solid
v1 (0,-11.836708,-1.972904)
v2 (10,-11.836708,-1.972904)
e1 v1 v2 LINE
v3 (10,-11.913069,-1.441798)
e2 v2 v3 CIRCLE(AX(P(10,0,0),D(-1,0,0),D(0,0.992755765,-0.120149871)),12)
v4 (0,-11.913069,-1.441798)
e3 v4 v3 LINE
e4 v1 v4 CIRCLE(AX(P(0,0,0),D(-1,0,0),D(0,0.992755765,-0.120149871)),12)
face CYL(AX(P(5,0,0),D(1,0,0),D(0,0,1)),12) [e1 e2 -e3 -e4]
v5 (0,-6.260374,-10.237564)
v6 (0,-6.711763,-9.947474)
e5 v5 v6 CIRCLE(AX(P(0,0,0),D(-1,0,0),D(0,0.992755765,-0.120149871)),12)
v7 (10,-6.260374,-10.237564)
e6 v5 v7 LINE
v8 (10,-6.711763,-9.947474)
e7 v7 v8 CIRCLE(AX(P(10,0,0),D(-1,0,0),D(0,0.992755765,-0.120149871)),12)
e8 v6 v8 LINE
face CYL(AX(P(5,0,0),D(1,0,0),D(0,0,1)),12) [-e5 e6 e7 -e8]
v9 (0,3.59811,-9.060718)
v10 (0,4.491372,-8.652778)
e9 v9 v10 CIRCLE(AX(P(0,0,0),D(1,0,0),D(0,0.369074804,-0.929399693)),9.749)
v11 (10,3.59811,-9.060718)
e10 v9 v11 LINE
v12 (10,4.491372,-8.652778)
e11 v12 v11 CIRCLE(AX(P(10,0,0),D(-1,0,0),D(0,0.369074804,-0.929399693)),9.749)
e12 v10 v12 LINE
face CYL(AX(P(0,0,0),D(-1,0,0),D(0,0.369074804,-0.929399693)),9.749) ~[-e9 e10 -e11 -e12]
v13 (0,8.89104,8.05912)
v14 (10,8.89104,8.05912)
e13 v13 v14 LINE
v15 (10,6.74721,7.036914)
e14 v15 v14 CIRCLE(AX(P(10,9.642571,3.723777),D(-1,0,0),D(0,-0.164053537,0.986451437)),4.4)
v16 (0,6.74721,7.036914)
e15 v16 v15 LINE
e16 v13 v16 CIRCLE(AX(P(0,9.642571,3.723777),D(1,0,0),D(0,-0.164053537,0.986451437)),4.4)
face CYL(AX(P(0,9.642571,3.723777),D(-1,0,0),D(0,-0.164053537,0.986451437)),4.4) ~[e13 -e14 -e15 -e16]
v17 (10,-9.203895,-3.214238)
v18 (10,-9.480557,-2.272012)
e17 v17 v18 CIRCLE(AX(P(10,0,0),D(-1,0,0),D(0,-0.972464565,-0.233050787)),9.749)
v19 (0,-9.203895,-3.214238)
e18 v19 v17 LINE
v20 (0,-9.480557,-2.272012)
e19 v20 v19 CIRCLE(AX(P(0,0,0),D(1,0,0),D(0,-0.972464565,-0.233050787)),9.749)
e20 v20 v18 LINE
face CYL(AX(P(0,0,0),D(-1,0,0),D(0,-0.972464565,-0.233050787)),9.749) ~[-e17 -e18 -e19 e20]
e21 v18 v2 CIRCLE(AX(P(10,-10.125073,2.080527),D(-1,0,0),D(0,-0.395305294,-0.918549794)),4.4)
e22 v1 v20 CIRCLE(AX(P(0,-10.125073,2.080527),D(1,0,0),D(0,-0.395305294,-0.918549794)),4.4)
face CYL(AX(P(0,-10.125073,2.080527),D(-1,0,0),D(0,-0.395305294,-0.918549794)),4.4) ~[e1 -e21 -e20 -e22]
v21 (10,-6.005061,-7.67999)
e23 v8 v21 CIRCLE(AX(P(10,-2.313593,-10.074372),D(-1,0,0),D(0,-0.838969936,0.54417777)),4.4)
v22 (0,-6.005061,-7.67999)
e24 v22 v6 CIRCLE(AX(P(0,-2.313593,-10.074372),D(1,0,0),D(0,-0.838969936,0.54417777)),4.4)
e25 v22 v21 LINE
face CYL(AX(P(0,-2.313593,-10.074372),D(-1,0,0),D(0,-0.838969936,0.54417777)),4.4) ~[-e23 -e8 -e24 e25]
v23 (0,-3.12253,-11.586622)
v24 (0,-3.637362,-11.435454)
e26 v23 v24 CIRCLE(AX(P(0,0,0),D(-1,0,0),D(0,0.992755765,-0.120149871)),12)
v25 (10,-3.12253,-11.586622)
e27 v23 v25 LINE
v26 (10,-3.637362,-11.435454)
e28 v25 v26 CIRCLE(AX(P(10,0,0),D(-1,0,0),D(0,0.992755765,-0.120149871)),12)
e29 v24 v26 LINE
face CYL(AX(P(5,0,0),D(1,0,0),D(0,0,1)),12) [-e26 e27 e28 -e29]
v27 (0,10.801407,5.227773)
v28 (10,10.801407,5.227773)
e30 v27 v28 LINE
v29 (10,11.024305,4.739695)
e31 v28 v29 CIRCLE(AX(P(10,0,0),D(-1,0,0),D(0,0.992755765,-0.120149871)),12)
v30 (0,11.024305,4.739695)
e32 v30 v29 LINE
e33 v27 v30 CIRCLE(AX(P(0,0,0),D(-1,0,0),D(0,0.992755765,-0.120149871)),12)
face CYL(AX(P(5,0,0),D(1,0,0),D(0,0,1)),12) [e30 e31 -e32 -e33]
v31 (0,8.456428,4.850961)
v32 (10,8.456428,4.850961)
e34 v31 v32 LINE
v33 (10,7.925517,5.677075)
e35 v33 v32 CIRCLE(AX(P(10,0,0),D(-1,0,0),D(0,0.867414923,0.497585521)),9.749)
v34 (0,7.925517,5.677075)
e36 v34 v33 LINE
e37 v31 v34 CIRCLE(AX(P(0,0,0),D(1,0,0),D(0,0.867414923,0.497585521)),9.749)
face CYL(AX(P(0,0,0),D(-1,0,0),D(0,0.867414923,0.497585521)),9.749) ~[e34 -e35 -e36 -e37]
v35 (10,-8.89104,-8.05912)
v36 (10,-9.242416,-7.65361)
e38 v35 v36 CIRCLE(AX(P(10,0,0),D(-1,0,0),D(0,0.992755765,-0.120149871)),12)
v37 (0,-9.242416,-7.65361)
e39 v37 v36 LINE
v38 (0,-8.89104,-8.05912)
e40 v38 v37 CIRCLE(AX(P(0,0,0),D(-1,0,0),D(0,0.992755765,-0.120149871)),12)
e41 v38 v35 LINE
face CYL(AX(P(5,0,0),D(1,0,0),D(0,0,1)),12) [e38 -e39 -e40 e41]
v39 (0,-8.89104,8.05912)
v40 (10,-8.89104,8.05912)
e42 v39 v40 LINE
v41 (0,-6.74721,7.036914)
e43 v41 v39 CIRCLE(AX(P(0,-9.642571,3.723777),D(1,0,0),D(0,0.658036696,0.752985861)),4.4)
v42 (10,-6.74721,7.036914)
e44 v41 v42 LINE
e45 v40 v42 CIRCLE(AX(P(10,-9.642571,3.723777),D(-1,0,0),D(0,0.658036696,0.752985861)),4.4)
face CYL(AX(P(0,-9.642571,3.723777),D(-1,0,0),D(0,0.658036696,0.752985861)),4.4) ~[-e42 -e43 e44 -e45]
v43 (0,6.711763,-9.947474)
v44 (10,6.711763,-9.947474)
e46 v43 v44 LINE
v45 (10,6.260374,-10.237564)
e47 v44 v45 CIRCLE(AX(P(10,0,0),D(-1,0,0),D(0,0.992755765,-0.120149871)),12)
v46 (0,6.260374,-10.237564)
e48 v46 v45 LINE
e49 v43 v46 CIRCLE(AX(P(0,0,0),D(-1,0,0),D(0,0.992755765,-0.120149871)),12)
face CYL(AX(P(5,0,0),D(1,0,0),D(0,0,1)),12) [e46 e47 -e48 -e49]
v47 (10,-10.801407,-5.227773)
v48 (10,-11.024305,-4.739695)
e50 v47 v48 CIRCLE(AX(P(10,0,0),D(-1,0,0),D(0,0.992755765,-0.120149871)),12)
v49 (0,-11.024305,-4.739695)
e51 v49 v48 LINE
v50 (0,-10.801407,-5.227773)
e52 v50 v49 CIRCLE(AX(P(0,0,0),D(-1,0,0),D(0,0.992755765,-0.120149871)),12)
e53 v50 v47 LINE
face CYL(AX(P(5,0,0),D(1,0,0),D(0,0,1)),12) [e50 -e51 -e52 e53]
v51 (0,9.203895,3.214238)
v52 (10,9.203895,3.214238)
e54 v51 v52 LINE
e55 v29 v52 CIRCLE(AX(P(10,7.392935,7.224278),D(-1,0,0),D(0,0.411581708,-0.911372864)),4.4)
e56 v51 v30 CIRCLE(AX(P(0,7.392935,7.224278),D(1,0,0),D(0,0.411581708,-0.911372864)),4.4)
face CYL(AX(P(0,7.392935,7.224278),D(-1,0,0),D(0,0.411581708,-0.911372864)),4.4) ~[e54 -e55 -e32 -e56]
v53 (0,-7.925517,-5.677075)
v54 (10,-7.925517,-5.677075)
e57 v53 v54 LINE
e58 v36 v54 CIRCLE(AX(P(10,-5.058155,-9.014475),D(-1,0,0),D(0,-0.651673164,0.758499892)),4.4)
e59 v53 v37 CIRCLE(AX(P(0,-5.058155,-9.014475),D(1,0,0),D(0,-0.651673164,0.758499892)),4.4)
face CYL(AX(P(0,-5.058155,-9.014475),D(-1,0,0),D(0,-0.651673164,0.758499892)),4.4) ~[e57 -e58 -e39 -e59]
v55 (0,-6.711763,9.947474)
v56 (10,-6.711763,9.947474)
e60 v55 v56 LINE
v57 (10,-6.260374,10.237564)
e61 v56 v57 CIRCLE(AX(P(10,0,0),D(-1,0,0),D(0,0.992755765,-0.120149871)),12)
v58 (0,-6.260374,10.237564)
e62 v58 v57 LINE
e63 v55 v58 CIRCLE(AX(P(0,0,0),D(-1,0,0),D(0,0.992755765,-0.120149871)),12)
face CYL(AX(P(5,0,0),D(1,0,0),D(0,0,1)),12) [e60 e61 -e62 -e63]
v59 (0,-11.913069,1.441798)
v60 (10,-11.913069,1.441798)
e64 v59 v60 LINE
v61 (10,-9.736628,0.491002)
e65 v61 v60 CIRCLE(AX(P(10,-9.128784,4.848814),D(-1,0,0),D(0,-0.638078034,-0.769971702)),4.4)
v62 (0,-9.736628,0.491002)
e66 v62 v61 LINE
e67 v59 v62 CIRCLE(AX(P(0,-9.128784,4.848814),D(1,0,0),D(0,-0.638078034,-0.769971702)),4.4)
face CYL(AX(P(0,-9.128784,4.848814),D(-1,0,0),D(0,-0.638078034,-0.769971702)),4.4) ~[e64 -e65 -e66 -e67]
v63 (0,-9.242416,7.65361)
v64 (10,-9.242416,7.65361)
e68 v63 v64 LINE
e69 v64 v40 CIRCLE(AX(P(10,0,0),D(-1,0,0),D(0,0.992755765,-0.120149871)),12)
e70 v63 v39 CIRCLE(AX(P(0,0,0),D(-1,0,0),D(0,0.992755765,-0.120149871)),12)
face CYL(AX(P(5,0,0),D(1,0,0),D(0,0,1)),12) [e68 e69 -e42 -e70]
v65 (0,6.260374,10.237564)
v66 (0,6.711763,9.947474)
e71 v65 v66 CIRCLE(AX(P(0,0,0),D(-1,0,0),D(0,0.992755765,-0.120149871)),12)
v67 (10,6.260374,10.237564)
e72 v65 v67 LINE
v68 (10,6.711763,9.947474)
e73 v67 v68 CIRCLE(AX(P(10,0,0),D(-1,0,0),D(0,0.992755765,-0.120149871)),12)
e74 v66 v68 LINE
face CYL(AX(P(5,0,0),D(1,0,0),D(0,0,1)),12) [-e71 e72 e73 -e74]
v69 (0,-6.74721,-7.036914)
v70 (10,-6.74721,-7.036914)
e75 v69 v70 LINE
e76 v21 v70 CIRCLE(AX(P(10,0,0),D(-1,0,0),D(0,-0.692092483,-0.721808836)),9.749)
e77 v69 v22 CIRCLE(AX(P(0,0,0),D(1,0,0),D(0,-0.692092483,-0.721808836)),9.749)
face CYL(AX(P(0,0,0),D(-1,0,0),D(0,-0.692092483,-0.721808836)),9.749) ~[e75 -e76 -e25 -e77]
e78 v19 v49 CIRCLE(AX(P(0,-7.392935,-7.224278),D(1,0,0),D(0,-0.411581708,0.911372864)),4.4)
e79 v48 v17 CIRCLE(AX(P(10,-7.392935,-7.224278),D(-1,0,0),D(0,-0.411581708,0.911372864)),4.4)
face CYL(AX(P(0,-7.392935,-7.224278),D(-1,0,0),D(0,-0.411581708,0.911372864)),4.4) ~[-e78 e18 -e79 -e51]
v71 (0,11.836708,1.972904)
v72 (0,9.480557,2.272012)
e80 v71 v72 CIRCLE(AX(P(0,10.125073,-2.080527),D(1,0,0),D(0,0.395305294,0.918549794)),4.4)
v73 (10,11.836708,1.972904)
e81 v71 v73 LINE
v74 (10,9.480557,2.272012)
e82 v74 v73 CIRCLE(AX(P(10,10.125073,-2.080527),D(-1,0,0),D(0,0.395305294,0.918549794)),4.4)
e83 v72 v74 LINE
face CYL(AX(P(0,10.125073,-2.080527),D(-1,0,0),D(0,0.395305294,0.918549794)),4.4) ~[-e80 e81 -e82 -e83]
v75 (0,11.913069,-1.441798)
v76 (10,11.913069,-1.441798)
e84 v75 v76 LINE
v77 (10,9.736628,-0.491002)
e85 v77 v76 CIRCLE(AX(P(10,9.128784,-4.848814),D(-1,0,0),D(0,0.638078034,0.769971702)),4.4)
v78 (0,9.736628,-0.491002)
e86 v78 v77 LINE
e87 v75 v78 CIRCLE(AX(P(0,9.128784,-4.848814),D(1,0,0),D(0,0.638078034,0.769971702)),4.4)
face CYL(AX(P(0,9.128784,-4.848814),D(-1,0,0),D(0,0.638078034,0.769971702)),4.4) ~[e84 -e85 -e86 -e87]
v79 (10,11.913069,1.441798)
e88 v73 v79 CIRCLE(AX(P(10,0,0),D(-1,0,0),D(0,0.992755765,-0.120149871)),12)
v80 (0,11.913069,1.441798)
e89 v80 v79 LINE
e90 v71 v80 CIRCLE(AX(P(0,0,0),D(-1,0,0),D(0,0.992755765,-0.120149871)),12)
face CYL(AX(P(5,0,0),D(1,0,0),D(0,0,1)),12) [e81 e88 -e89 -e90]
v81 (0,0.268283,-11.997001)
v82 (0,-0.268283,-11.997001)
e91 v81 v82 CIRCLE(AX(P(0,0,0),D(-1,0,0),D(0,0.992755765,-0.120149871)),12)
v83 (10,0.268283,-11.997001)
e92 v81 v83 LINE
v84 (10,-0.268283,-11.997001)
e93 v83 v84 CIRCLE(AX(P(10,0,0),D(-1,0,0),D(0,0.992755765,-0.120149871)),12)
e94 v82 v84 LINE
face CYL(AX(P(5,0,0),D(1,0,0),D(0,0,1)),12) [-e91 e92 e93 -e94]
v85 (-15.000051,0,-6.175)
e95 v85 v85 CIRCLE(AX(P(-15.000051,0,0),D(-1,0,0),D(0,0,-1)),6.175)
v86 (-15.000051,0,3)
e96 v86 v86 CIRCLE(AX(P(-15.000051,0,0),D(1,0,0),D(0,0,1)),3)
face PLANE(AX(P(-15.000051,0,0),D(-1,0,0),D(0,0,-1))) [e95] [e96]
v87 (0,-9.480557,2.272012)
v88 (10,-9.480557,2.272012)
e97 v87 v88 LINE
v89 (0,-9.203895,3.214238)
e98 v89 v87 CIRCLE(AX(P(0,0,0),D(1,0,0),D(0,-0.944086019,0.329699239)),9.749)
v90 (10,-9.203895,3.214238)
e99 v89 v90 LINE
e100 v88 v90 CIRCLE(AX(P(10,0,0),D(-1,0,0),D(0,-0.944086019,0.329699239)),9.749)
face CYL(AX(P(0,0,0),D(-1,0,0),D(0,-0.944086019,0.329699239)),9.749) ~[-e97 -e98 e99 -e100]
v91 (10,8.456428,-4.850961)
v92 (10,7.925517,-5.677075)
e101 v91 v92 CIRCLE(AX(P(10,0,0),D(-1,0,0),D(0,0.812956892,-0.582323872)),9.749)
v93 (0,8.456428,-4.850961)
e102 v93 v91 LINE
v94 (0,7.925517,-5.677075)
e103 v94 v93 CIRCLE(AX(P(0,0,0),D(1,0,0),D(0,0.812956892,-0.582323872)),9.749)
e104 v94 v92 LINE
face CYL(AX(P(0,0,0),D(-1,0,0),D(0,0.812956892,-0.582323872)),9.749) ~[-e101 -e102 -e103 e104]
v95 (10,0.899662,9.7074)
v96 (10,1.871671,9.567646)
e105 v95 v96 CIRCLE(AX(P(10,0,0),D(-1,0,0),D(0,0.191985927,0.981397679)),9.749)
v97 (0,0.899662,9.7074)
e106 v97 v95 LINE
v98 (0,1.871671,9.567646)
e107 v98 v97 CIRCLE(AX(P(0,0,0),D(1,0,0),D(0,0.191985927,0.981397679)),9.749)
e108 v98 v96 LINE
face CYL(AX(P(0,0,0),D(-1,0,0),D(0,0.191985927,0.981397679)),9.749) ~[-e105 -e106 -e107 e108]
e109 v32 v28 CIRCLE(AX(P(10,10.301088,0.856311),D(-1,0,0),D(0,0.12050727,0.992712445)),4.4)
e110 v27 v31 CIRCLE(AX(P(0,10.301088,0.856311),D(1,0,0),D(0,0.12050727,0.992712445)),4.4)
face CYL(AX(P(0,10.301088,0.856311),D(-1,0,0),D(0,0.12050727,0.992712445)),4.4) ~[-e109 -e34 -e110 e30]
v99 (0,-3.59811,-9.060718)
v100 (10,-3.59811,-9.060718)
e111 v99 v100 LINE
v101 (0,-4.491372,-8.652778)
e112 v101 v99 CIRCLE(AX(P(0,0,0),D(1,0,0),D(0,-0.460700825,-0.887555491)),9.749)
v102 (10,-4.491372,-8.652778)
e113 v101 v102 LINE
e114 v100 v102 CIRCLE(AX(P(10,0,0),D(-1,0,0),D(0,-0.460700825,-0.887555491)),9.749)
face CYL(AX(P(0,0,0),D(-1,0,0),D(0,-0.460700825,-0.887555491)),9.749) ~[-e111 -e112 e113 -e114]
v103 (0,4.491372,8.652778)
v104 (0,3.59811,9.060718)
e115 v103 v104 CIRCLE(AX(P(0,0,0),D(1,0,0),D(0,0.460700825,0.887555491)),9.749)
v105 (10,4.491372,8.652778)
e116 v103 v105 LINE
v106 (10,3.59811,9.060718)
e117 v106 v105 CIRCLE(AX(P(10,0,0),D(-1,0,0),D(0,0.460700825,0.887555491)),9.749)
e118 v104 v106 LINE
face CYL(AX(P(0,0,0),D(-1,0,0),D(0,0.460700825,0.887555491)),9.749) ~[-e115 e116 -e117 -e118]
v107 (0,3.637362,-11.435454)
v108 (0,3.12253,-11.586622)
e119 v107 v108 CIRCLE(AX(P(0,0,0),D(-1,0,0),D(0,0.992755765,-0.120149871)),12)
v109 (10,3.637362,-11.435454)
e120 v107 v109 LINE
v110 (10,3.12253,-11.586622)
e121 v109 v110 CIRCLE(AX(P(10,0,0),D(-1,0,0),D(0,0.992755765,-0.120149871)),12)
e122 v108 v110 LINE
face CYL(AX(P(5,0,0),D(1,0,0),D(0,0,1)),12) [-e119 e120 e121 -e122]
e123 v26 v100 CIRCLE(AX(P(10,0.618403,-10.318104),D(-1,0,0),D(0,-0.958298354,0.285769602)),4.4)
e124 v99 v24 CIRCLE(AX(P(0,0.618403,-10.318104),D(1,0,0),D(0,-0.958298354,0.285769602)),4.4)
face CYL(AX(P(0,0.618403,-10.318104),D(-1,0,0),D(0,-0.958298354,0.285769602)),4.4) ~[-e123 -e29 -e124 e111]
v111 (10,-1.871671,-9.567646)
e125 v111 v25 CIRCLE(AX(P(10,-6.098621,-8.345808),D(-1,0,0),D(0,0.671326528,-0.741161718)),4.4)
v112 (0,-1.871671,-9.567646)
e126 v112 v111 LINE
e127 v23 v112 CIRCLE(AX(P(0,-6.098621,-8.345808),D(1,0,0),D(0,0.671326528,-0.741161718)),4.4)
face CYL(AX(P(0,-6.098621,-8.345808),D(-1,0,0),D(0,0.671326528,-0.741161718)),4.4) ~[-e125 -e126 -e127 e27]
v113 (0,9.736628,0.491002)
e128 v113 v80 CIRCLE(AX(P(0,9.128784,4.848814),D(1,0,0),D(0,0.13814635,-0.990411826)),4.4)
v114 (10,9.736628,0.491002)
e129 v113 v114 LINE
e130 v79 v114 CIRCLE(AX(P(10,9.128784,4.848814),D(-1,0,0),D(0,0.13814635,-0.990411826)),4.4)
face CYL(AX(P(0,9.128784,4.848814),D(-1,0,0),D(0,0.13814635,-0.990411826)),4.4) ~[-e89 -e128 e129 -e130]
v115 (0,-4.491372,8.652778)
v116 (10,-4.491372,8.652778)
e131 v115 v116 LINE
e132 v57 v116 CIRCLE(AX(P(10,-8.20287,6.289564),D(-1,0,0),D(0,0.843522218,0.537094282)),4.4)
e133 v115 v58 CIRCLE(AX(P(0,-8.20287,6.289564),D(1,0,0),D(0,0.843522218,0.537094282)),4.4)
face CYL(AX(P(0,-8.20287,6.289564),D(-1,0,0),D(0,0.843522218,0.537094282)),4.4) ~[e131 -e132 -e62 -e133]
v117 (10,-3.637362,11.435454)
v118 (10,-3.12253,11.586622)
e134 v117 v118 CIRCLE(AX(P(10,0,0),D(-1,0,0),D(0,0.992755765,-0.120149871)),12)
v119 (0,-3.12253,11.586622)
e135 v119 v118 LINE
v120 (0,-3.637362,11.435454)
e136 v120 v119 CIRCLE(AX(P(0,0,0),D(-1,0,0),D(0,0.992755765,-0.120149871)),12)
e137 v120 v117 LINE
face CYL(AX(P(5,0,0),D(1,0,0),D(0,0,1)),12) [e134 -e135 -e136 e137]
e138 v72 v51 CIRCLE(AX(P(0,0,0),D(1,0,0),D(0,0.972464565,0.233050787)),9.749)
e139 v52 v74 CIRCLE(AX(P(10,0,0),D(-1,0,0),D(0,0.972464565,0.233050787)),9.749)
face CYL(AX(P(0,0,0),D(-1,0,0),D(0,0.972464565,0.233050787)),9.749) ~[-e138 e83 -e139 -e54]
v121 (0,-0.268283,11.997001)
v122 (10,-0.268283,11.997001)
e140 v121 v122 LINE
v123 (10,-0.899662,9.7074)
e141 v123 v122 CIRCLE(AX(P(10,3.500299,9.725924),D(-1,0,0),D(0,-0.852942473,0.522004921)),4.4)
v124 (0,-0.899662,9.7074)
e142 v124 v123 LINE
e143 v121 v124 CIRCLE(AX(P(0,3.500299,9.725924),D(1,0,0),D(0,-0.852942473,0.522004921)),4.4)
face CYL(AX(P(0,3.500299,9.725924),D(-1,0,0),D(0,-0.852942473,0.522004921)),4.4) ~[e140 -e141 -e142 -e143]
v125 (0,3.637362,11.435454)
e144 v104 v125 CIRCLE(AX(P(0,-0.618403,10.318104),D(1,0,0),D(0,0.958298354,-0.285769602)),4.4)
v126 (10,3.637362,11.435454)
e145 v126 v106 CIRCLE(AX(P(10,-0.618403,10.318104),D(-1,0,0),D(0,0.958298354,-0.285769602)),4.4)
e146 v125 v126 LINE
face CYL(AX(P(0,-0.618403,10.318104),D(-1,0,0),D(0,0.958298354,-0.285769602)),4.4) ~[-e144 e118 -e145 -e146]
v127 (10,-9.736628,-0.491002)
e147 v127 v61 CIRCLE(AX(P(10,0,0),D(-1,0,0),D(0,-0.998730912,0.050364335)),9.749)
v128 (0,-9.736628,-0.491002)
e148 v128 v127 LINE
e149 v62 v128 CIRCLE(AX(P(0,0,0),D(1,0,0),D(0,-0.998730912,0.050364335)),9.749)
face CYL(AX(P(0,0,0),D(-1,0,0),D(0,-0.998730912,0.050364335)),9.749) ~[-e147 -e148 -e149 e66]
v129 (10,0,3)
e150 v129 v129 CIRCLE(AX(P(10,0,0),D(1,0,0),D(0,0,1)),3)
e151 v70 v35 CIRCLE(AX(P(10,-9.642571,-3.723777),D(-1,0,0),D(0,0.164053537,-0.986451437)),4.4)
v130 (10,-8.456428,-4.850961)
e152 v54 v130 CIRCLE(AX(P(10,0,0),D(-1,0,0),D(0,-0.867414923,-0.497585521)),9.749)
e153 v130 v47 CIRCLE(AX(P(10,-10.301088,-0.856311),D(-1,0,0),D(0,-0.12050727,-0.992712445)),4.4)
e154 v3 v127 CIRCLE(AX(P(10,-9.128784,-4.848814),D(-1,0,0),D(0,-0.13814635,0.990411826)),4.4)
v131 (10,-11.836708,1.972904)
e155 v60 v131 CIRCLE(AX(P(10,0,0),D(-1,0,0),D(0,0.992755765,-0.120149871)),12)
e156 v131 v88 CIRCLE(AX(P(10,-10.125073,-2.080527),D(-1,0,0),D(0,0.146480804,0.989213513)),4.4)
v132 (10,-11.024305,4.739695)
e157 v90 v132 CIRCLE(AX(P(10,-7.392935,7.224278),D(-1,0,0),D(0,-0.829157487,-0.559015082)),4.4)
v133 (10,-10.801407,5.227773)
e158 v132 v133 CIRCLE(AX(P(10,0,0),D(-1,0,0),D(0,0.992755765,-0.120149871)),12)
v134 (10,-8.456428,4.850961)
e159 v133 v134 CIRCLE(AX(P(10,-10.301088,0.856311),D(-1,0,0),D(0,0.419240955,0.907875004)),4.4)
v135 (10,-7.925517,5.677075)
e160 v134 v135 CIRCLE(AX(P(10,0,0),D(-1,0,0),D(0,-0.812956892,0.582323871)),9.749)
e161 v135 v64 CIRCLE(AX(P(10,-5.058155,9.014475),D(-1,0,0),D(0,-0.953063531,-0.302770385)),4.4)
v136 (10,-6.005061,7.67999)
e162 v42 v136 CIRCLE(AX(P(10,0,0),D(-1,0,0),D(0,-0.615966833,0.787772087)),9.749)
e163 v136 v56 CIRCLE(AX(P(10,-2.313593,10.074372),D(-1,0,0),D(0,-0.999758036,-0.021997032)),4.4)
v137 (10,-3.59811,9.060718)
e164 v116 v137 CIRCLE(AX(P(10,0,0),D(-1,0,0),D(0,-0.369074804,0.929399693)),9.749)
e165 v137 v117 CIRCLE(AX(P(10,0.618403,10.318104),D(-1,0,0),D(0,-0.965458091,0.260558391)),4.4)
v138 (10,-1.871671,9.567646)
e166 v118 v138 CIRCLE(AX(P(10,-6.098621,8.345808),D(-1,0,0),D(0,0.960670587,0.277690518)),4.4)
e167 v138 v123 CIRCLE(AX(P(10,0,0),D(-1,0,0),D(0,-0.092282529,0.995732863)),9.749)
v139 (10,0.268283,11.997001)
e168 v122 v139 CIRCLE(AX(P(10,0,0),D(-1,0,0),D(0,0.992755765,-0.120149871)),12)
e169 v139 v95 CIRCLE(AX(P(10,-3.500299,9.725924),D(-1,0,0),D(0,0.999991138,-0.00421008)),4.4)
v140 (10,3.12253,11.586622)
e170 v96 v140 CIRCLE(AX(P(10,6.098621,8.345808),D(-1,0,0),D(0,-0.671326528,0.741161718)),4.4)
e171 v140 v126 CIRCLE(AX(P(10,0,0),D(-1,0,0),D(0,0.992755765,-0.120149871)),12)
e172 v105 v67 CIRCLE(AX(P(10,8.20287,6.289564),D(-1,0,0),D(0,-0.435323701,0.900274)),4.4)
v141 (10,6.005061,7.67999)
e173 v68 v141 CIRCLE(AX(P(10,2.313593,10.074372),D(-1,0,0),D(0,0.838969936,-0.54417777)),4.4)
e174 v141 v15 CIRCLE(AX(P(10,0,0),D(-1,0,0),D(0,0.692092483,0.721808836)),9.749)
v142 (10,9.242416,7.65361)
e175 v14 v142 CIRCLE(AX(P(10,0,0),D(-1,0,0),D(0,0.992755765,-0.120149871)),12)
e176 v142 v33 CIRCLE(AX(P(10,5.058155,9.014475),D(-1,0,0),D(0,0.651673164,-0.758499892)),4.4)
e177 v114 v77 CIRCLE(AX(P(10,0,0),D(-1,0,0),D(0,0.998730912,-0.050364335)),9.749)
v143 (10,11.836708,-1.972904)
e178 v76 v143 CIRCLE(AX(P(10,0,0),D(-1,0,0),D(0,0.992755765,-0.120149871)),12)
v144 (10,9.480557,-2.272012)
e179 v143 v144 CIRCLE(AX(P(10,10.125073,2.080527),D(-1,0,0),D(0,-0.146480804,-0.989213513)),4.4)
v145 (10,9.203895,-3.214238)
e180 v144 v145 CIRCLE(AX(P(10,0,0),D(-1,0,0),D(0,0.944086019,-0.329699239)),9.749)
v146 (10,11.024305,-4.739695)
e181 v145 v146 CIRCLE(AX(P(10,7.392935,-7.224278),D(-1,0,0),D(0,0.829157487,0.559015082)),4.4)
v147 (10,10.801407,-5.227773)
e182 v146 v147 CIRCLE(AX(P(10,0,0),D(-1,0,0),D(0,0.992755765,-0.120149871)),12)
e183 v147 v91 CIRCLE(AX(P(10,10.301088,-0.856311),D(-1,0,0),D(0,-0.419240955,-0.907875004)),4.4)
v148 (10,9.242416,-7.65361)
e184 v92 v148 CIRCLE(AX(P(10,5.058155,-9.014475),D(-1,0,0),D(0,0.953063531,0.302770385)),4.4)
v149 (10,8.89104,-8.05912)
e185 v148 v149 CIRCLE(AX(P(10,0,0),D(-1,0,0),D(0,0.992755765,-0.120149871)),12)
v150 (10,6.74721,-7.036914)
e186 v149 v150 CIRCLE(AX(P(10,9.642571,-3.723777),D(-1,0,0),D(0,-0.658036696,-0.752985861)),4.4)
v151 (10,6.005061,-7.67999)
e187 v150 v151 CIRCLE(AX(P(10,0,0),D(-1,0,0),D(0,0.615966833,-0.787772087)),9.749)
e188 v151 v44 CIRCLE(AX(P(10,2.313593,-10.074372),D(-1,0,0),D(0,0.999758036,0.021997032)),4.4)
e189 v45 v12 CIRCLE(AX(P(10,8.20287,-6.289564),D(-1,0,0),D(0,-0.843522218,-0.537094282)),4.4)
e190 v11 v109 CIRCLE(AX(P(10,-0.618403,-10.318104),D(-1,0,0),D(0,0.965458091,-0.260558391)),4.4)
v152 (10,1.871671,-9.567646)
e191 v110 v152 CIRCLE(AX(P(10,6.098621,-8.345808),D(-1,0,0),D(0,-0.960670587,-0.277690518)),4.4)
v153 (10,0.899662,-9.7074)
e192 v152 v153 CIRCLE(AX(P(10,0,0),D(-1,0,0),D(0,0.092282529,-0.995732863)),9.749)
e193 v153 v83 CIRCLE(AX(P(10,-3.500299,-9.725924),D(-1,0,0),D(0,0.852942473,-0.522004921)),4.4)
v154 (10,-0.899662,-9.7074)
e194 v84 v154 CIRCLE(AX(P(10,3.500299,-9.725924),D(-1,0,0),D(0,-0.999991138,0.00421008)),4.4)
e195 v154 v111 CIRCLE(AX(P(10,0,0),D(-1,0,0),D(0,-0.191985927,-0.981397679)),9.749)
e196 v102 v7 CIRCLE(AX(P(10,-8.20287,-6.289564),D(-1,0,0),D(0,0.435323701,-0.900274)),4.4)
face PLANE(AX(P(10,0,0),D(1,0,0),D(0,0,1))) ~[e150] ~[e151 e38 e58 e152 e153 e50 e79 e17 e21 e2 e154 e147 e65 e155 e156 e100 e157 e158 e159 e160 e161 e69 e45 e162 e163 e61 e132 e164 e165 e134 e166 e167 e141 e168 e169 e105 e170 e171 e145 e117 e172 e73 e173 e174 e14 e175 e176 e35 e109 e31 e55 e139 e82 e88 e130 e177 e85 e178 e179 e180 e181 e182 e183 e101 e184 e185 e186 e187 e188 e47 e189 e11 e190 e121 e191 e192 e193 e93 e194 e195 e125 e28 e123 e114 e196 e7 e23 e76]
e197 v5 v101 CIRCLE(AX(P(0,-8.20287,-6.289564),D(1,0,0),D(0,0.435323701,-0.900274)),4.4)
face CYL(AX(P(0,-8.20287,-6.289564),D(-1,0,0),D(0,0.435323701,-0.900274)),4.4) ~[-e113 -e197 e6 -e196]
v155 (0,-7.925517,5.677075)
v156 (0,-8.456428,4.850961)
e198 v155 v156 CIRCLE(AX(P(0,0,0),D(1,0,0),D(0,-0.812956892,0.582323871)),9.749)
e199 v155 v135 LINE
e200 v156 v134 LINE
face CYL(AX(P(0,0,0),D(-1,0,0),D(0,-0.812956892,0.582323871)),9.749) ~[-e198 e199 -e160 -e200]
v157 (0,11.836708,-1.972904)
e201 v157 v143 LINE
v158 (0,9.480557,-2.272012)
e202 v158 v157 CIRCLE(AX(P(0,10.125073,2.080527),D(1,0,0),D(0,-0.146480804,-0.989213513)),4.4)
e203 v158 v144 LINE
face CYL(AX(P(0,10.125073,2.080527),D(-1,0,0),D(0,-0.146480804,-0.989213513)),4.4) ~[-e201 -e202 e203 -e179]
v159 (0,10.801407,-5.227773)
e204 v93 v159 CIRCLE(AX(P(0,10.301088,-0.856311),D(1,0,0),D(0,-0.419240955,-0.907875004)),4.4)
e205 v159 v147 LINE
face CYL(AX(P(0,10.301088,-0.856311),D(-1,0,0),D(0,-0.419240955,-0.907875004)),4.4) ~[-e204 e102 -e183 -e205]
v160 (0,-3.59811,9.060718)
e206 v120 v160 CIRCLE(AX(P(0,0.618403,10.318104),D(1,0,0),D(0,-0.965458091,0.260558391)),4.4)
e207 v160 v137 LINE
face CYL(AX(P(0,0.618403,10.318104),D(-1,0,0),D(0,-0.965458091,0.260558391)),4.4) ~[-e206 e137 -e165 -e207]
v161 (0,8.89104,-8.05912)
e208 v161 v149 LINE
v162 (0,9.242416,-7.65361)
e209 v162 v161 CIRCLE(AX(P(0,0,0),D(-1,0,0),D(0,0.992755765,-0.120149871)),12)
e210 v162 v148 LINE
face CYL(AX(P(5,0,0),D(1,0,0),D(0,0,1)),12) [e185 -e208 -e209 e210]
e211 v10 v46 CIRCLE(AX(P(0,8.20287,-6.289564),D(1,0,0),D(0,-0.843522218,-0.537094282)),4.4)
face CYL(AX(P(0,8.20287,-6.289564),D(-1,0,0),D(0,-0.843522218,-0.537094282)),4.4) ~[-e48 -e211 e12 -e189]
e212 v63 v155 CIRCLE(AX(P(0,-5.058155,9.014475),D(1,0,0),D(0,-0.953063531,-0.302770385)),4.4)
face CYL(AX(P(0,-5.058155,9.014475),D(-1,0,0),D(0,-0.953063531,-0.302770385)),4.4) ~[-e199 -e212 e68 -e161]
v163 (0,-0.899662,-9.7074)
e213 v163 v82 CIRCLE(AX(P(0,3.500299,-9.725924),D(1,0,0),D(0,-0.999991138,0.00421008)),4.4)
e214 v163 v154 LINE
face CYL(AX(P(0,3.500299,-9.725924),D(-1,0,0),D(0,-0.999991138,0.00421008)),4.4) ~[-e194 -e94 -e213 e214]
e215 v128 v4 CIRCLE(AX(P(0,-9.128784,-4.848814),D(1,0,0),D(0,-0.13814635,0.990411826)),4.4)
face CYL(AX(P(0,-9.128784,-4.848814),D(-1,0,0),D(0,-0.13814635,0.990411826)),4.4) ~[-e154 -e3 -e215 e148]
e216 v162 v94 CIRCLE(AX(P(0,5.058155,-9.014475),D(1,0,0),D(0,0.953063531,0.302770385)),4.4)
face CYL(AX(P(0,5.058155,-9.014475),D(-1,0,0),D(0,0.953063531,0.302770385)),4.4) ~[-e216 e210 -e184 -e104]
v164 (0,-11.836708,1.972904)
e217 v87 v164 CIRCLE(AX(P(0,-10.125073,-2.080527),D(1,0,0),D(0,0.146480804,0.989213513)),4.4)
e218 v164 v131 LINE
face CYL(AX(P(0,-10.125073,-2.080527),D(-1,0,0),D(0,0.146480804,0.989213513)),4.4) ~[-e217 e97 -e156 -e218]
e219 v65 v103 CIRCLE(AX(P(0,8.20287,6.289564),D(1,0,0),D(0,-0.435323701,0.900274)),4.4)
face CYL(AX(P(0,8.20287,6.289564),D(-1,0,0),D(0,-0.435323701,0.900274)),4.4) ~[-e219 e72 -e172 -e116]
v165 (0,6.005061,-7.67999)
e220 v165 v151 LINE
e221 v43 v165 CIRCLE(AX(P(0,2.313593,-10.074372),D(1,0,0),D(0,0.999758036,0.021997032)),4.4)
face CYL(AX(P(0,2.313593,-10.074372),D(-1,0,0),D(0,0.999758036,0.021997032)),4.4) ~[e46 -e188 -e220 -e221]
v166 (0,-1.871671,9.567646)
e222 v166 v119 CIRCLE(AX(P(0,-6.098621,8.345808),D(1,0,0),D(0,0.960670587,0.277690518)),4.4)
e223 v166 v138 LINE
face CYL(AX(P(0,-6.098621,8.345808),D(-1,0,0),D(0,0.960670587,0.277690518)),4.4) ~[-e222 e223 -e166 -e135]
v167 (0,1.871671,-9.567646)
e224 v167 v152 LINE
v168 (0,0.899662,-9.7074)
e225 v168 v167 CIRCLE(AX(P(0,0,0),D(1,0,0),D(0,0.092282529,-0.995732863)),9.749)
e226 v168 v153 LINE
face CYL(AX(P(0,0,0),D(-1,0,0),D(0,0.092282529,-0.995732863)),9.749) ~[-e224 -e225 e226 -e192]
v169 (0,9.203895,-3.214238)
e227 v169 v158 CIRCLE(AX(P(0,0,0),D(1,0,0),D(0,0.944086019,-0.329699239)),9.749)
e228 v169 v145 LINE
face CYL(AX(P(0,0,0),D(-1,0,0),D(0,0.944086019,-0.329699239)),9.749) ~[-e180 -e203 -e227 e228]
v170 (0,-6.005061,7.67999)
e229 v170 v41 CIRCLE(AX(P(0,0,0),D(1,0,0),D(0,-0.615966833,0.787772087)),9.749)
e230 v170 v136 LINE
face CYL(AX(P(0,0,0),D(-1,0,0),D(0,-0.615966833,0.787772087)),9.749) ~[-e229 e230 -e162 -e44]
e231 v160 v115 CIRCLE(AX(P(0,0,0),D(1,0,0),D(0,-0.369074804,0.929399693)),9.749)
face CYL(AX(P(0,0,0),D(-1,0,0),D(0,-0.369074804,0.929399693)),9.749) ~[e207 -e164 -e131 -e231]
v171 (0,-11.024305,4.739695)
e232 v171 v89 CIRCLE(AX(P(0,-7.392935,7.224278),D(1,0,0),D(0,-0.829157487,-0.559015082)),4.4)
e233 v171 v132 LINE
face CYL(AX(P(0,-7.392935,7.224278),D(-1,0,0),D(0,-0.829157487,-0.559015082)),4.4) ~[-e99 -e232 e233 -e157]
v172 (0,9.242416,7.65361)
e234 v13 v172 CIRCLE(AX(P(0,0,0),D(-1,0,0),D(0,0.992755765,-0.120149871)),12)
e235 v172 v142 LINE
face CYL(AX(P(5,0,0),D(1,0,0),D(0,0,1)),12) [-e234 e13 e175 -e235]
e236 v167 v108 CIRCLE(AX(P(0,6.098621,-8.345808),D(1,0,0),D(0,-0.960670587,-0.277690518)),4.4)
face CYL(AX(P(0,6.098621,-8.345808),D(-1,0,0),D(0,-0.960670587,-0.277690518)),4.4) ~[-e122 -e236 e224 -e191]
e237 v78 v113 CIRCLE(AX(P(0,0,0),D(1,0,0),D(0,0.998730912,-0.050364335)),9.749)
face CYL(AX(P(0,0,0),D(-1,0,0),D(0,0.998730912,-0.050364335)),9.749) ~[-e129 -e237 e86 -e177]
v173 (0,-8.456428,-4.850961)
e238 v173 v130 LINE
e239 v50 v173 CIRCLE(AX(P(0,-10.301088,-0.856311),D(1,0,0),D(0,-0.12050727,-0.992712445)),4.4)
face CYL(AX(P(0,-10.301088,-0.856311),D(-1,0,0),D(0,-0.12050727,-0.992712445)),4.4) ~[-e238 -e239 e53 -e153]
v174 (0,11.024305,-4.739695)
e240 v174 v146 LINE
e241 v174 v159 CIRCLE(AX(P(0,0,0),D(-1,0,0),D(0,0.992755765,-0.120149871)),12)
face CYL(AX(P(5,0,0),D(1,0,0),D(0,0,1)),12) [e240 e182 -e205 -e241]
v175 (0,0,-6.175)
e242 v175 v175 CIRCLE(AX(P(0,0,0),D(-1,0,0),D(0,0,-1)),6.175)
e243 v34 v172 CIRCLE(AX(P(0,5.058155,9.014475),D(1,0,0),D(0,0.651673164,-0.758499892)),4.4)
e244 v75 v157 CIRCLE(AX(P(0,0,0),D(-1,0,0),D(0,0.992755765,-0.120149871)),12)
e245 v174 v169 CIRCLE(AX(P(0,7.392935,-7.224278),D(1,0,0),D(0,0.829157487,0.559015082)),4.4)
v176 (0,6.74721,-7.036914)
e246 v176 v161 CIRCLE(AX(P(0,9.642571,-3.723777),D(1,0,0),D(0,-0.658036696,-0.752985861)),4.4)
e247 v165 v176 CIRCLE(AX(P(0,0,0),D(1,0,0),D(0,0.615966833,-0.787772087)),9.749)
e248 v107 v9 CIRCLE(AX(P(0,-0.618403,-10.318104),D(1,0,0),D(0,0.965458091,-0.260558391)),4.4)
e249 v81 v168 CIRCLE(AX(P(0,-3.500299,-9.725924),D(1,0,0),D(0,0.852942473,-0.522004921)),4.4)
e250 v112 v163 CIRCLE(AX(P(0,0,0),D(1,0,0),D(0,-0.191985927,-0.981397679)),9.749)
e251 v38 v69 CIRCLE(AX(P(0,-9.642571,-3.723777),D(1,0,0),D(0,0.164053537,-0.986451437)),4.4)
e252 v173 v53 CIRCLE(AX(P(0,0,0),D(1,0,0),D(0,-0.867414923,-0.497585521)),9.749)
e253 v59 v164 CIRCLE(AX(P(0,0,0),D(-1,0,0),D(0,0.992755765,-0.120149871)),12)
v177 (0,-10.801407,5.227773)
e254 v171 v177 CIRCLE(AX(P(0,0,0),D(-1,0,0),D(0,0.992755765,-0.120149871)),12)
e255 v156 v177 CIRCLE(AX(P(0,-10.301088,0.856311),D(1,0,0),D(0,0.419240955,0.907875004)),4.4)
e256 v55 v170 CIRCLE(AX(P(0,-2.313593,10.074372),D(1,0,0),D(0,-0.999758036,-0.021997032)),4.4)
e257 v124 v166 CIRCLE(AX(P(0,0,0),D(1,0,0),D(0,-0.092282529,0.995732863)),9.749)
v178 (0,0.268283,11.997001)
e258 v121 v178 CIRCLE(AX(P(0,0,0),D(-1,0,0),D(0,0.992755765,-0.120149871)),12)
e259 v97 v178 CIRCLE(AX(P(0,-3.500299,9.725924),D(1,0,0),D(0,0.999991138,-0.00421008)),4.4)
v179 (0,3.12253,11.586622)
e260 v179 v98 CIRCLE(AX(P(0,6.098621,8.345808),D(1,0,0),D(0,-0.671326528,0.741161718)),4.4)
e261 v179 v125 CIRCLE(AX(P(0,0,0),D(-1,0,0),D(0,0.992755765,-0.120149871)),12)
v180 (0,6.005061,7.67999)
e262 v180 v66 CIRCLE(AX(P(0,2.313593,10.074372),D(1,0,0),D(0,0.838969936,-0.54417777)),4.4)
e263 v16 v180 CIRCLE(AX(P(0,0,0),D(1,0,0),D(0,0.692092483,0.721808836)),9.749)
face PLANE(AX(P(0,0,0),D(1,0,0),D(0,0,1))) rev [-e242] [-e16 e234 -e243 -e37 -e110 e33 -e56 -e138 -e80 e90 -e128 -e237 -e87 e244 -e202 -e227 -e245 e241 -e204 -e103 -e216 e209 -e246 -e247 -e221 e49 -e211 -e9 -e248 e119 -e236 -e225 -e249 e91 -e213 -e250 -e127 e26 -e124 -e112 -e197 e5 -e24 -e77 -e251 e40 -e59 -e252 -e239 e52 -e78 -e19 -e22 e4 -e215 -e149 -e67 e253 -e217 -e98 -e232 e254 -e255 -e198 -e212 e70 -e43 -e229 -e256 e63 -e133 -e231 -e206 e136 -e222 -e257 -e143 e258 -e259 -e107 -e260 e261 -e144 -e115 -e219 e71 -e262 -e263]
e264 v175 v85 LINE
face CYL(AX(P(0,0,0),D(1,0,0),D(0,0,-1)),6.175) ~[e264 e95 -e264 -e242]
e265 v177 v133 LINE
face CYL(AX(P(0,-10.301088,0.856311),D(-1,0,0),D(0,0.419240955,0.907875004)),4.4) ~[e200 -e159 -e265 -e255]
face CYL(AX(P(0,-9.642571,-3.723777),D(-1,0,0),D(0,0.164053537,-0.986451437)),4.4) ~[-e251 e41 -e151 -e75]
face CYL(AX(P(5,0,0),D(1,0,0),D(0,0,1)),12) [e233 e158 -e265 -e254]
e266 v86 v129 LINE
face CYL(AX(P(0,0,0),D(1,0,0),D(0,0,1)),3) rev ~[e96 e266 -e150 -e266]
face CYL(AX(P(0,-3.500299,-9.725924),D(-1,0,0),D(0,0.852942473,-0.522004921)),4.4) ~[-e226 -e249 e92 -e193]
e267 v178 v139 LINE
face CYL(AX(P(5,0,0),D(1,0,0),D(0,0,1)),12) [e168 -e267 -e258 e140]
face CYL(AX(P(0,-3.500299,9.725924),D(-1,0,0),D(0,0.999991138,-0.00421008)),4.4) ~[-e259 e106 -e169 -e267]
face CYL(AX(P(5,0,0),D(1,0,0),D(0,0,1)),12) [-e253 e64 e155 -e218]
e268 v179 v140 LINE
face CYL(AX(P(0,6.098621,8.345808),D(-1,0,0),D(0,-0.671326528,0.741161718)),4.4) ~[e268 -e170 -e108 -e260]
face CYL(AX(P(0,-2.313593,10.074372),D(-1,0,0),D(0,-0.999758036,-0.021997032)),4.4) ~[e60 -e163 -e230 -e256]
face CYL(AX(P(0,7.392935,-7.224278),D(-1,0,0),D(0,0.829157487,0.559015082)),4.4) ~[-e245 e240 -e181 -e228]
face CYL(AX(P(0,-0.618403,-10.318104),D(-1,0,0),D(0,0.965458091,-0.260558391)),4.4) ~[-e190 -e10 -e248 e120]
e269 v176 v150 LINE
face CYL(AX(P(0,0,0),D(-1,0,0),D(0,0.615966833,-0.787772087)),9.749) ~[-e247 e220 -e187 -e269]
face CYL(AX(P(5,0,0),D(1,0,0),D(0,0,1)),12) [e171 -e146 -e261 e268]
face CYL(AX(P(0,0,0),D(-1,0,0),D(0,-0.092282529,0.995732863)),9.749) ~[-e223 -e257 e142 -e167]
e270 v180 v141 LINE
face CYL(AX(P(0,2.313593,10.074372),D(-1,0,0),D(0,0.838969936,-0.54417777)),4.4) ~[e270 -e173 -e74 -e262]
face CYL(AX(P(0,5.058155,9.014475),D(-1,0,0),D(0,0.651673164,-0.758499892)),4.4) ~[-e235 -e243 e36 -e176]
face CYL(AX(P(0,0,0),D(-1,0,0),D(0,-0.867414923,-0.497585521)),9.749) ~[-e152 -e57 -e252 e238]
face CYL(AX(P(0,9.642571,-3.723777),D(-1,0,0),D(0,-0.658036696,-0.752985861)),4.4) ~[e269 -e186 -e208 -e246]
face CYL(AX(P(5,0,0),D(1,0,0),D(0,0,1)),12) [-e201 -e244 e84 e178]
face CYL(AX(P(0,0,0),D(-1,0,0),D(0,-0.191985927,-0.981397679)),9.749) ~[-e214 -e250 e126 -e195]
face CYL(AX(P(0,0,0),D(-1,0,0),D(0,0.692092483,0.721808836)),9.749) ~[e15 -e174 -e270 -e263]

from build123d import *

# Parameters (mm, degrees)
BASPROSKE_W      = 10
BASPROSKE_H      = 12
TOOTHCUT_DEPTH   = 20.697715604
TEETHCUTS_COUNT  = 22
TEETHCUTS_ANGLE  = 343.636363636
HUBNEAONESKE_R   = 6.175
HUBNEARONE_DEPTH = 15.0000508
BORSKE_R         = 3
BORE_DEPTH       = 25.0000508


with BuildPart() as part:
    # BasProSke → Base-Revolve (revolve)
    with BuildSketch(Plane(origin=(0, 0, 0), x_dir=(1, 0, 0), z_dir=(0, 1, 0)), mode=Mode.PRIVATE) as base_revolve_sk:
        with Locations((5, 6)):
            Rectangle(BASPROSKE_W, BASPROSKE_H)
    revolve(base_revolve_sk.sketch.rotate(Axis((-10, 0, 0), (1, 0, 0)), 180), axis=Axis((-10, 0, 0), (1, 0, 0)))

    # TooCutSke → ToothCut (cut, through all)
    with BuildSketch(Plane(origin=(0, 0, 0), x_dir=(0, 0, -1), z_dir=(1, 0, 0))):
        with BuildLine():
            ThreePointArc((0.491001901, 9.736627657), (0, 9.749), (-0.491001901, 9.736627657))
            ThreePointArc((-0.491001901, 9.736627657), (-0.822824844, 10.904005344), (-1.46093845, 11.936327074))
            ThreePointArc((-1.46093845, 11.936327074), (0, 12.0254), (1.46093845, 11.936327074))
            ThreePointArc((1.46093845, 11.936327074), (0.822824844, 10.904005344), (0.491001901, 9.736627657))
        make_face()
    toothcut = extrude(amount=TOOTHCUT_DEPTH, mode=Mode.SUBTRACT)

    # TeethCuts: ToothCut ×22 about axis
    teethcuts_axis = Axis((-10, 0, 0), (1, 0, 0))
    for i in range(1, TEETHCUTS_COUNT):
        add(toothcut.rotate(teethcuts_axis, i * TEETHCUTS_ANGLE / (TEETHCUTS_COUNT - 1)), mode=Mode.SUBTRACT)

    # HubNeaOneSke → HubNearOne (add)
    with BuildSketch(Plane.ZY):
        with Locations(Location((0, 0, 0), (0, 0, 180))):
            Circle(HUBNEAONESKE_R)
    extrude(amount=HUBNEARONE_DEPTH)

    # BorSke → Bore (cut, symmetric)
    with BuildSketch(Plane(origin=(0, 0, 0), x_dir=(0, 0, -1), z_dir=(1, 0, 0))):
        with Locations(Location((0, 0, 0), (0, 0, 180))):
            Circle(BORSKE_R)
    extrude(amount=BORE_DEPTH, both=True, mode=Mode.SUBTRACT)


solid = part.part
